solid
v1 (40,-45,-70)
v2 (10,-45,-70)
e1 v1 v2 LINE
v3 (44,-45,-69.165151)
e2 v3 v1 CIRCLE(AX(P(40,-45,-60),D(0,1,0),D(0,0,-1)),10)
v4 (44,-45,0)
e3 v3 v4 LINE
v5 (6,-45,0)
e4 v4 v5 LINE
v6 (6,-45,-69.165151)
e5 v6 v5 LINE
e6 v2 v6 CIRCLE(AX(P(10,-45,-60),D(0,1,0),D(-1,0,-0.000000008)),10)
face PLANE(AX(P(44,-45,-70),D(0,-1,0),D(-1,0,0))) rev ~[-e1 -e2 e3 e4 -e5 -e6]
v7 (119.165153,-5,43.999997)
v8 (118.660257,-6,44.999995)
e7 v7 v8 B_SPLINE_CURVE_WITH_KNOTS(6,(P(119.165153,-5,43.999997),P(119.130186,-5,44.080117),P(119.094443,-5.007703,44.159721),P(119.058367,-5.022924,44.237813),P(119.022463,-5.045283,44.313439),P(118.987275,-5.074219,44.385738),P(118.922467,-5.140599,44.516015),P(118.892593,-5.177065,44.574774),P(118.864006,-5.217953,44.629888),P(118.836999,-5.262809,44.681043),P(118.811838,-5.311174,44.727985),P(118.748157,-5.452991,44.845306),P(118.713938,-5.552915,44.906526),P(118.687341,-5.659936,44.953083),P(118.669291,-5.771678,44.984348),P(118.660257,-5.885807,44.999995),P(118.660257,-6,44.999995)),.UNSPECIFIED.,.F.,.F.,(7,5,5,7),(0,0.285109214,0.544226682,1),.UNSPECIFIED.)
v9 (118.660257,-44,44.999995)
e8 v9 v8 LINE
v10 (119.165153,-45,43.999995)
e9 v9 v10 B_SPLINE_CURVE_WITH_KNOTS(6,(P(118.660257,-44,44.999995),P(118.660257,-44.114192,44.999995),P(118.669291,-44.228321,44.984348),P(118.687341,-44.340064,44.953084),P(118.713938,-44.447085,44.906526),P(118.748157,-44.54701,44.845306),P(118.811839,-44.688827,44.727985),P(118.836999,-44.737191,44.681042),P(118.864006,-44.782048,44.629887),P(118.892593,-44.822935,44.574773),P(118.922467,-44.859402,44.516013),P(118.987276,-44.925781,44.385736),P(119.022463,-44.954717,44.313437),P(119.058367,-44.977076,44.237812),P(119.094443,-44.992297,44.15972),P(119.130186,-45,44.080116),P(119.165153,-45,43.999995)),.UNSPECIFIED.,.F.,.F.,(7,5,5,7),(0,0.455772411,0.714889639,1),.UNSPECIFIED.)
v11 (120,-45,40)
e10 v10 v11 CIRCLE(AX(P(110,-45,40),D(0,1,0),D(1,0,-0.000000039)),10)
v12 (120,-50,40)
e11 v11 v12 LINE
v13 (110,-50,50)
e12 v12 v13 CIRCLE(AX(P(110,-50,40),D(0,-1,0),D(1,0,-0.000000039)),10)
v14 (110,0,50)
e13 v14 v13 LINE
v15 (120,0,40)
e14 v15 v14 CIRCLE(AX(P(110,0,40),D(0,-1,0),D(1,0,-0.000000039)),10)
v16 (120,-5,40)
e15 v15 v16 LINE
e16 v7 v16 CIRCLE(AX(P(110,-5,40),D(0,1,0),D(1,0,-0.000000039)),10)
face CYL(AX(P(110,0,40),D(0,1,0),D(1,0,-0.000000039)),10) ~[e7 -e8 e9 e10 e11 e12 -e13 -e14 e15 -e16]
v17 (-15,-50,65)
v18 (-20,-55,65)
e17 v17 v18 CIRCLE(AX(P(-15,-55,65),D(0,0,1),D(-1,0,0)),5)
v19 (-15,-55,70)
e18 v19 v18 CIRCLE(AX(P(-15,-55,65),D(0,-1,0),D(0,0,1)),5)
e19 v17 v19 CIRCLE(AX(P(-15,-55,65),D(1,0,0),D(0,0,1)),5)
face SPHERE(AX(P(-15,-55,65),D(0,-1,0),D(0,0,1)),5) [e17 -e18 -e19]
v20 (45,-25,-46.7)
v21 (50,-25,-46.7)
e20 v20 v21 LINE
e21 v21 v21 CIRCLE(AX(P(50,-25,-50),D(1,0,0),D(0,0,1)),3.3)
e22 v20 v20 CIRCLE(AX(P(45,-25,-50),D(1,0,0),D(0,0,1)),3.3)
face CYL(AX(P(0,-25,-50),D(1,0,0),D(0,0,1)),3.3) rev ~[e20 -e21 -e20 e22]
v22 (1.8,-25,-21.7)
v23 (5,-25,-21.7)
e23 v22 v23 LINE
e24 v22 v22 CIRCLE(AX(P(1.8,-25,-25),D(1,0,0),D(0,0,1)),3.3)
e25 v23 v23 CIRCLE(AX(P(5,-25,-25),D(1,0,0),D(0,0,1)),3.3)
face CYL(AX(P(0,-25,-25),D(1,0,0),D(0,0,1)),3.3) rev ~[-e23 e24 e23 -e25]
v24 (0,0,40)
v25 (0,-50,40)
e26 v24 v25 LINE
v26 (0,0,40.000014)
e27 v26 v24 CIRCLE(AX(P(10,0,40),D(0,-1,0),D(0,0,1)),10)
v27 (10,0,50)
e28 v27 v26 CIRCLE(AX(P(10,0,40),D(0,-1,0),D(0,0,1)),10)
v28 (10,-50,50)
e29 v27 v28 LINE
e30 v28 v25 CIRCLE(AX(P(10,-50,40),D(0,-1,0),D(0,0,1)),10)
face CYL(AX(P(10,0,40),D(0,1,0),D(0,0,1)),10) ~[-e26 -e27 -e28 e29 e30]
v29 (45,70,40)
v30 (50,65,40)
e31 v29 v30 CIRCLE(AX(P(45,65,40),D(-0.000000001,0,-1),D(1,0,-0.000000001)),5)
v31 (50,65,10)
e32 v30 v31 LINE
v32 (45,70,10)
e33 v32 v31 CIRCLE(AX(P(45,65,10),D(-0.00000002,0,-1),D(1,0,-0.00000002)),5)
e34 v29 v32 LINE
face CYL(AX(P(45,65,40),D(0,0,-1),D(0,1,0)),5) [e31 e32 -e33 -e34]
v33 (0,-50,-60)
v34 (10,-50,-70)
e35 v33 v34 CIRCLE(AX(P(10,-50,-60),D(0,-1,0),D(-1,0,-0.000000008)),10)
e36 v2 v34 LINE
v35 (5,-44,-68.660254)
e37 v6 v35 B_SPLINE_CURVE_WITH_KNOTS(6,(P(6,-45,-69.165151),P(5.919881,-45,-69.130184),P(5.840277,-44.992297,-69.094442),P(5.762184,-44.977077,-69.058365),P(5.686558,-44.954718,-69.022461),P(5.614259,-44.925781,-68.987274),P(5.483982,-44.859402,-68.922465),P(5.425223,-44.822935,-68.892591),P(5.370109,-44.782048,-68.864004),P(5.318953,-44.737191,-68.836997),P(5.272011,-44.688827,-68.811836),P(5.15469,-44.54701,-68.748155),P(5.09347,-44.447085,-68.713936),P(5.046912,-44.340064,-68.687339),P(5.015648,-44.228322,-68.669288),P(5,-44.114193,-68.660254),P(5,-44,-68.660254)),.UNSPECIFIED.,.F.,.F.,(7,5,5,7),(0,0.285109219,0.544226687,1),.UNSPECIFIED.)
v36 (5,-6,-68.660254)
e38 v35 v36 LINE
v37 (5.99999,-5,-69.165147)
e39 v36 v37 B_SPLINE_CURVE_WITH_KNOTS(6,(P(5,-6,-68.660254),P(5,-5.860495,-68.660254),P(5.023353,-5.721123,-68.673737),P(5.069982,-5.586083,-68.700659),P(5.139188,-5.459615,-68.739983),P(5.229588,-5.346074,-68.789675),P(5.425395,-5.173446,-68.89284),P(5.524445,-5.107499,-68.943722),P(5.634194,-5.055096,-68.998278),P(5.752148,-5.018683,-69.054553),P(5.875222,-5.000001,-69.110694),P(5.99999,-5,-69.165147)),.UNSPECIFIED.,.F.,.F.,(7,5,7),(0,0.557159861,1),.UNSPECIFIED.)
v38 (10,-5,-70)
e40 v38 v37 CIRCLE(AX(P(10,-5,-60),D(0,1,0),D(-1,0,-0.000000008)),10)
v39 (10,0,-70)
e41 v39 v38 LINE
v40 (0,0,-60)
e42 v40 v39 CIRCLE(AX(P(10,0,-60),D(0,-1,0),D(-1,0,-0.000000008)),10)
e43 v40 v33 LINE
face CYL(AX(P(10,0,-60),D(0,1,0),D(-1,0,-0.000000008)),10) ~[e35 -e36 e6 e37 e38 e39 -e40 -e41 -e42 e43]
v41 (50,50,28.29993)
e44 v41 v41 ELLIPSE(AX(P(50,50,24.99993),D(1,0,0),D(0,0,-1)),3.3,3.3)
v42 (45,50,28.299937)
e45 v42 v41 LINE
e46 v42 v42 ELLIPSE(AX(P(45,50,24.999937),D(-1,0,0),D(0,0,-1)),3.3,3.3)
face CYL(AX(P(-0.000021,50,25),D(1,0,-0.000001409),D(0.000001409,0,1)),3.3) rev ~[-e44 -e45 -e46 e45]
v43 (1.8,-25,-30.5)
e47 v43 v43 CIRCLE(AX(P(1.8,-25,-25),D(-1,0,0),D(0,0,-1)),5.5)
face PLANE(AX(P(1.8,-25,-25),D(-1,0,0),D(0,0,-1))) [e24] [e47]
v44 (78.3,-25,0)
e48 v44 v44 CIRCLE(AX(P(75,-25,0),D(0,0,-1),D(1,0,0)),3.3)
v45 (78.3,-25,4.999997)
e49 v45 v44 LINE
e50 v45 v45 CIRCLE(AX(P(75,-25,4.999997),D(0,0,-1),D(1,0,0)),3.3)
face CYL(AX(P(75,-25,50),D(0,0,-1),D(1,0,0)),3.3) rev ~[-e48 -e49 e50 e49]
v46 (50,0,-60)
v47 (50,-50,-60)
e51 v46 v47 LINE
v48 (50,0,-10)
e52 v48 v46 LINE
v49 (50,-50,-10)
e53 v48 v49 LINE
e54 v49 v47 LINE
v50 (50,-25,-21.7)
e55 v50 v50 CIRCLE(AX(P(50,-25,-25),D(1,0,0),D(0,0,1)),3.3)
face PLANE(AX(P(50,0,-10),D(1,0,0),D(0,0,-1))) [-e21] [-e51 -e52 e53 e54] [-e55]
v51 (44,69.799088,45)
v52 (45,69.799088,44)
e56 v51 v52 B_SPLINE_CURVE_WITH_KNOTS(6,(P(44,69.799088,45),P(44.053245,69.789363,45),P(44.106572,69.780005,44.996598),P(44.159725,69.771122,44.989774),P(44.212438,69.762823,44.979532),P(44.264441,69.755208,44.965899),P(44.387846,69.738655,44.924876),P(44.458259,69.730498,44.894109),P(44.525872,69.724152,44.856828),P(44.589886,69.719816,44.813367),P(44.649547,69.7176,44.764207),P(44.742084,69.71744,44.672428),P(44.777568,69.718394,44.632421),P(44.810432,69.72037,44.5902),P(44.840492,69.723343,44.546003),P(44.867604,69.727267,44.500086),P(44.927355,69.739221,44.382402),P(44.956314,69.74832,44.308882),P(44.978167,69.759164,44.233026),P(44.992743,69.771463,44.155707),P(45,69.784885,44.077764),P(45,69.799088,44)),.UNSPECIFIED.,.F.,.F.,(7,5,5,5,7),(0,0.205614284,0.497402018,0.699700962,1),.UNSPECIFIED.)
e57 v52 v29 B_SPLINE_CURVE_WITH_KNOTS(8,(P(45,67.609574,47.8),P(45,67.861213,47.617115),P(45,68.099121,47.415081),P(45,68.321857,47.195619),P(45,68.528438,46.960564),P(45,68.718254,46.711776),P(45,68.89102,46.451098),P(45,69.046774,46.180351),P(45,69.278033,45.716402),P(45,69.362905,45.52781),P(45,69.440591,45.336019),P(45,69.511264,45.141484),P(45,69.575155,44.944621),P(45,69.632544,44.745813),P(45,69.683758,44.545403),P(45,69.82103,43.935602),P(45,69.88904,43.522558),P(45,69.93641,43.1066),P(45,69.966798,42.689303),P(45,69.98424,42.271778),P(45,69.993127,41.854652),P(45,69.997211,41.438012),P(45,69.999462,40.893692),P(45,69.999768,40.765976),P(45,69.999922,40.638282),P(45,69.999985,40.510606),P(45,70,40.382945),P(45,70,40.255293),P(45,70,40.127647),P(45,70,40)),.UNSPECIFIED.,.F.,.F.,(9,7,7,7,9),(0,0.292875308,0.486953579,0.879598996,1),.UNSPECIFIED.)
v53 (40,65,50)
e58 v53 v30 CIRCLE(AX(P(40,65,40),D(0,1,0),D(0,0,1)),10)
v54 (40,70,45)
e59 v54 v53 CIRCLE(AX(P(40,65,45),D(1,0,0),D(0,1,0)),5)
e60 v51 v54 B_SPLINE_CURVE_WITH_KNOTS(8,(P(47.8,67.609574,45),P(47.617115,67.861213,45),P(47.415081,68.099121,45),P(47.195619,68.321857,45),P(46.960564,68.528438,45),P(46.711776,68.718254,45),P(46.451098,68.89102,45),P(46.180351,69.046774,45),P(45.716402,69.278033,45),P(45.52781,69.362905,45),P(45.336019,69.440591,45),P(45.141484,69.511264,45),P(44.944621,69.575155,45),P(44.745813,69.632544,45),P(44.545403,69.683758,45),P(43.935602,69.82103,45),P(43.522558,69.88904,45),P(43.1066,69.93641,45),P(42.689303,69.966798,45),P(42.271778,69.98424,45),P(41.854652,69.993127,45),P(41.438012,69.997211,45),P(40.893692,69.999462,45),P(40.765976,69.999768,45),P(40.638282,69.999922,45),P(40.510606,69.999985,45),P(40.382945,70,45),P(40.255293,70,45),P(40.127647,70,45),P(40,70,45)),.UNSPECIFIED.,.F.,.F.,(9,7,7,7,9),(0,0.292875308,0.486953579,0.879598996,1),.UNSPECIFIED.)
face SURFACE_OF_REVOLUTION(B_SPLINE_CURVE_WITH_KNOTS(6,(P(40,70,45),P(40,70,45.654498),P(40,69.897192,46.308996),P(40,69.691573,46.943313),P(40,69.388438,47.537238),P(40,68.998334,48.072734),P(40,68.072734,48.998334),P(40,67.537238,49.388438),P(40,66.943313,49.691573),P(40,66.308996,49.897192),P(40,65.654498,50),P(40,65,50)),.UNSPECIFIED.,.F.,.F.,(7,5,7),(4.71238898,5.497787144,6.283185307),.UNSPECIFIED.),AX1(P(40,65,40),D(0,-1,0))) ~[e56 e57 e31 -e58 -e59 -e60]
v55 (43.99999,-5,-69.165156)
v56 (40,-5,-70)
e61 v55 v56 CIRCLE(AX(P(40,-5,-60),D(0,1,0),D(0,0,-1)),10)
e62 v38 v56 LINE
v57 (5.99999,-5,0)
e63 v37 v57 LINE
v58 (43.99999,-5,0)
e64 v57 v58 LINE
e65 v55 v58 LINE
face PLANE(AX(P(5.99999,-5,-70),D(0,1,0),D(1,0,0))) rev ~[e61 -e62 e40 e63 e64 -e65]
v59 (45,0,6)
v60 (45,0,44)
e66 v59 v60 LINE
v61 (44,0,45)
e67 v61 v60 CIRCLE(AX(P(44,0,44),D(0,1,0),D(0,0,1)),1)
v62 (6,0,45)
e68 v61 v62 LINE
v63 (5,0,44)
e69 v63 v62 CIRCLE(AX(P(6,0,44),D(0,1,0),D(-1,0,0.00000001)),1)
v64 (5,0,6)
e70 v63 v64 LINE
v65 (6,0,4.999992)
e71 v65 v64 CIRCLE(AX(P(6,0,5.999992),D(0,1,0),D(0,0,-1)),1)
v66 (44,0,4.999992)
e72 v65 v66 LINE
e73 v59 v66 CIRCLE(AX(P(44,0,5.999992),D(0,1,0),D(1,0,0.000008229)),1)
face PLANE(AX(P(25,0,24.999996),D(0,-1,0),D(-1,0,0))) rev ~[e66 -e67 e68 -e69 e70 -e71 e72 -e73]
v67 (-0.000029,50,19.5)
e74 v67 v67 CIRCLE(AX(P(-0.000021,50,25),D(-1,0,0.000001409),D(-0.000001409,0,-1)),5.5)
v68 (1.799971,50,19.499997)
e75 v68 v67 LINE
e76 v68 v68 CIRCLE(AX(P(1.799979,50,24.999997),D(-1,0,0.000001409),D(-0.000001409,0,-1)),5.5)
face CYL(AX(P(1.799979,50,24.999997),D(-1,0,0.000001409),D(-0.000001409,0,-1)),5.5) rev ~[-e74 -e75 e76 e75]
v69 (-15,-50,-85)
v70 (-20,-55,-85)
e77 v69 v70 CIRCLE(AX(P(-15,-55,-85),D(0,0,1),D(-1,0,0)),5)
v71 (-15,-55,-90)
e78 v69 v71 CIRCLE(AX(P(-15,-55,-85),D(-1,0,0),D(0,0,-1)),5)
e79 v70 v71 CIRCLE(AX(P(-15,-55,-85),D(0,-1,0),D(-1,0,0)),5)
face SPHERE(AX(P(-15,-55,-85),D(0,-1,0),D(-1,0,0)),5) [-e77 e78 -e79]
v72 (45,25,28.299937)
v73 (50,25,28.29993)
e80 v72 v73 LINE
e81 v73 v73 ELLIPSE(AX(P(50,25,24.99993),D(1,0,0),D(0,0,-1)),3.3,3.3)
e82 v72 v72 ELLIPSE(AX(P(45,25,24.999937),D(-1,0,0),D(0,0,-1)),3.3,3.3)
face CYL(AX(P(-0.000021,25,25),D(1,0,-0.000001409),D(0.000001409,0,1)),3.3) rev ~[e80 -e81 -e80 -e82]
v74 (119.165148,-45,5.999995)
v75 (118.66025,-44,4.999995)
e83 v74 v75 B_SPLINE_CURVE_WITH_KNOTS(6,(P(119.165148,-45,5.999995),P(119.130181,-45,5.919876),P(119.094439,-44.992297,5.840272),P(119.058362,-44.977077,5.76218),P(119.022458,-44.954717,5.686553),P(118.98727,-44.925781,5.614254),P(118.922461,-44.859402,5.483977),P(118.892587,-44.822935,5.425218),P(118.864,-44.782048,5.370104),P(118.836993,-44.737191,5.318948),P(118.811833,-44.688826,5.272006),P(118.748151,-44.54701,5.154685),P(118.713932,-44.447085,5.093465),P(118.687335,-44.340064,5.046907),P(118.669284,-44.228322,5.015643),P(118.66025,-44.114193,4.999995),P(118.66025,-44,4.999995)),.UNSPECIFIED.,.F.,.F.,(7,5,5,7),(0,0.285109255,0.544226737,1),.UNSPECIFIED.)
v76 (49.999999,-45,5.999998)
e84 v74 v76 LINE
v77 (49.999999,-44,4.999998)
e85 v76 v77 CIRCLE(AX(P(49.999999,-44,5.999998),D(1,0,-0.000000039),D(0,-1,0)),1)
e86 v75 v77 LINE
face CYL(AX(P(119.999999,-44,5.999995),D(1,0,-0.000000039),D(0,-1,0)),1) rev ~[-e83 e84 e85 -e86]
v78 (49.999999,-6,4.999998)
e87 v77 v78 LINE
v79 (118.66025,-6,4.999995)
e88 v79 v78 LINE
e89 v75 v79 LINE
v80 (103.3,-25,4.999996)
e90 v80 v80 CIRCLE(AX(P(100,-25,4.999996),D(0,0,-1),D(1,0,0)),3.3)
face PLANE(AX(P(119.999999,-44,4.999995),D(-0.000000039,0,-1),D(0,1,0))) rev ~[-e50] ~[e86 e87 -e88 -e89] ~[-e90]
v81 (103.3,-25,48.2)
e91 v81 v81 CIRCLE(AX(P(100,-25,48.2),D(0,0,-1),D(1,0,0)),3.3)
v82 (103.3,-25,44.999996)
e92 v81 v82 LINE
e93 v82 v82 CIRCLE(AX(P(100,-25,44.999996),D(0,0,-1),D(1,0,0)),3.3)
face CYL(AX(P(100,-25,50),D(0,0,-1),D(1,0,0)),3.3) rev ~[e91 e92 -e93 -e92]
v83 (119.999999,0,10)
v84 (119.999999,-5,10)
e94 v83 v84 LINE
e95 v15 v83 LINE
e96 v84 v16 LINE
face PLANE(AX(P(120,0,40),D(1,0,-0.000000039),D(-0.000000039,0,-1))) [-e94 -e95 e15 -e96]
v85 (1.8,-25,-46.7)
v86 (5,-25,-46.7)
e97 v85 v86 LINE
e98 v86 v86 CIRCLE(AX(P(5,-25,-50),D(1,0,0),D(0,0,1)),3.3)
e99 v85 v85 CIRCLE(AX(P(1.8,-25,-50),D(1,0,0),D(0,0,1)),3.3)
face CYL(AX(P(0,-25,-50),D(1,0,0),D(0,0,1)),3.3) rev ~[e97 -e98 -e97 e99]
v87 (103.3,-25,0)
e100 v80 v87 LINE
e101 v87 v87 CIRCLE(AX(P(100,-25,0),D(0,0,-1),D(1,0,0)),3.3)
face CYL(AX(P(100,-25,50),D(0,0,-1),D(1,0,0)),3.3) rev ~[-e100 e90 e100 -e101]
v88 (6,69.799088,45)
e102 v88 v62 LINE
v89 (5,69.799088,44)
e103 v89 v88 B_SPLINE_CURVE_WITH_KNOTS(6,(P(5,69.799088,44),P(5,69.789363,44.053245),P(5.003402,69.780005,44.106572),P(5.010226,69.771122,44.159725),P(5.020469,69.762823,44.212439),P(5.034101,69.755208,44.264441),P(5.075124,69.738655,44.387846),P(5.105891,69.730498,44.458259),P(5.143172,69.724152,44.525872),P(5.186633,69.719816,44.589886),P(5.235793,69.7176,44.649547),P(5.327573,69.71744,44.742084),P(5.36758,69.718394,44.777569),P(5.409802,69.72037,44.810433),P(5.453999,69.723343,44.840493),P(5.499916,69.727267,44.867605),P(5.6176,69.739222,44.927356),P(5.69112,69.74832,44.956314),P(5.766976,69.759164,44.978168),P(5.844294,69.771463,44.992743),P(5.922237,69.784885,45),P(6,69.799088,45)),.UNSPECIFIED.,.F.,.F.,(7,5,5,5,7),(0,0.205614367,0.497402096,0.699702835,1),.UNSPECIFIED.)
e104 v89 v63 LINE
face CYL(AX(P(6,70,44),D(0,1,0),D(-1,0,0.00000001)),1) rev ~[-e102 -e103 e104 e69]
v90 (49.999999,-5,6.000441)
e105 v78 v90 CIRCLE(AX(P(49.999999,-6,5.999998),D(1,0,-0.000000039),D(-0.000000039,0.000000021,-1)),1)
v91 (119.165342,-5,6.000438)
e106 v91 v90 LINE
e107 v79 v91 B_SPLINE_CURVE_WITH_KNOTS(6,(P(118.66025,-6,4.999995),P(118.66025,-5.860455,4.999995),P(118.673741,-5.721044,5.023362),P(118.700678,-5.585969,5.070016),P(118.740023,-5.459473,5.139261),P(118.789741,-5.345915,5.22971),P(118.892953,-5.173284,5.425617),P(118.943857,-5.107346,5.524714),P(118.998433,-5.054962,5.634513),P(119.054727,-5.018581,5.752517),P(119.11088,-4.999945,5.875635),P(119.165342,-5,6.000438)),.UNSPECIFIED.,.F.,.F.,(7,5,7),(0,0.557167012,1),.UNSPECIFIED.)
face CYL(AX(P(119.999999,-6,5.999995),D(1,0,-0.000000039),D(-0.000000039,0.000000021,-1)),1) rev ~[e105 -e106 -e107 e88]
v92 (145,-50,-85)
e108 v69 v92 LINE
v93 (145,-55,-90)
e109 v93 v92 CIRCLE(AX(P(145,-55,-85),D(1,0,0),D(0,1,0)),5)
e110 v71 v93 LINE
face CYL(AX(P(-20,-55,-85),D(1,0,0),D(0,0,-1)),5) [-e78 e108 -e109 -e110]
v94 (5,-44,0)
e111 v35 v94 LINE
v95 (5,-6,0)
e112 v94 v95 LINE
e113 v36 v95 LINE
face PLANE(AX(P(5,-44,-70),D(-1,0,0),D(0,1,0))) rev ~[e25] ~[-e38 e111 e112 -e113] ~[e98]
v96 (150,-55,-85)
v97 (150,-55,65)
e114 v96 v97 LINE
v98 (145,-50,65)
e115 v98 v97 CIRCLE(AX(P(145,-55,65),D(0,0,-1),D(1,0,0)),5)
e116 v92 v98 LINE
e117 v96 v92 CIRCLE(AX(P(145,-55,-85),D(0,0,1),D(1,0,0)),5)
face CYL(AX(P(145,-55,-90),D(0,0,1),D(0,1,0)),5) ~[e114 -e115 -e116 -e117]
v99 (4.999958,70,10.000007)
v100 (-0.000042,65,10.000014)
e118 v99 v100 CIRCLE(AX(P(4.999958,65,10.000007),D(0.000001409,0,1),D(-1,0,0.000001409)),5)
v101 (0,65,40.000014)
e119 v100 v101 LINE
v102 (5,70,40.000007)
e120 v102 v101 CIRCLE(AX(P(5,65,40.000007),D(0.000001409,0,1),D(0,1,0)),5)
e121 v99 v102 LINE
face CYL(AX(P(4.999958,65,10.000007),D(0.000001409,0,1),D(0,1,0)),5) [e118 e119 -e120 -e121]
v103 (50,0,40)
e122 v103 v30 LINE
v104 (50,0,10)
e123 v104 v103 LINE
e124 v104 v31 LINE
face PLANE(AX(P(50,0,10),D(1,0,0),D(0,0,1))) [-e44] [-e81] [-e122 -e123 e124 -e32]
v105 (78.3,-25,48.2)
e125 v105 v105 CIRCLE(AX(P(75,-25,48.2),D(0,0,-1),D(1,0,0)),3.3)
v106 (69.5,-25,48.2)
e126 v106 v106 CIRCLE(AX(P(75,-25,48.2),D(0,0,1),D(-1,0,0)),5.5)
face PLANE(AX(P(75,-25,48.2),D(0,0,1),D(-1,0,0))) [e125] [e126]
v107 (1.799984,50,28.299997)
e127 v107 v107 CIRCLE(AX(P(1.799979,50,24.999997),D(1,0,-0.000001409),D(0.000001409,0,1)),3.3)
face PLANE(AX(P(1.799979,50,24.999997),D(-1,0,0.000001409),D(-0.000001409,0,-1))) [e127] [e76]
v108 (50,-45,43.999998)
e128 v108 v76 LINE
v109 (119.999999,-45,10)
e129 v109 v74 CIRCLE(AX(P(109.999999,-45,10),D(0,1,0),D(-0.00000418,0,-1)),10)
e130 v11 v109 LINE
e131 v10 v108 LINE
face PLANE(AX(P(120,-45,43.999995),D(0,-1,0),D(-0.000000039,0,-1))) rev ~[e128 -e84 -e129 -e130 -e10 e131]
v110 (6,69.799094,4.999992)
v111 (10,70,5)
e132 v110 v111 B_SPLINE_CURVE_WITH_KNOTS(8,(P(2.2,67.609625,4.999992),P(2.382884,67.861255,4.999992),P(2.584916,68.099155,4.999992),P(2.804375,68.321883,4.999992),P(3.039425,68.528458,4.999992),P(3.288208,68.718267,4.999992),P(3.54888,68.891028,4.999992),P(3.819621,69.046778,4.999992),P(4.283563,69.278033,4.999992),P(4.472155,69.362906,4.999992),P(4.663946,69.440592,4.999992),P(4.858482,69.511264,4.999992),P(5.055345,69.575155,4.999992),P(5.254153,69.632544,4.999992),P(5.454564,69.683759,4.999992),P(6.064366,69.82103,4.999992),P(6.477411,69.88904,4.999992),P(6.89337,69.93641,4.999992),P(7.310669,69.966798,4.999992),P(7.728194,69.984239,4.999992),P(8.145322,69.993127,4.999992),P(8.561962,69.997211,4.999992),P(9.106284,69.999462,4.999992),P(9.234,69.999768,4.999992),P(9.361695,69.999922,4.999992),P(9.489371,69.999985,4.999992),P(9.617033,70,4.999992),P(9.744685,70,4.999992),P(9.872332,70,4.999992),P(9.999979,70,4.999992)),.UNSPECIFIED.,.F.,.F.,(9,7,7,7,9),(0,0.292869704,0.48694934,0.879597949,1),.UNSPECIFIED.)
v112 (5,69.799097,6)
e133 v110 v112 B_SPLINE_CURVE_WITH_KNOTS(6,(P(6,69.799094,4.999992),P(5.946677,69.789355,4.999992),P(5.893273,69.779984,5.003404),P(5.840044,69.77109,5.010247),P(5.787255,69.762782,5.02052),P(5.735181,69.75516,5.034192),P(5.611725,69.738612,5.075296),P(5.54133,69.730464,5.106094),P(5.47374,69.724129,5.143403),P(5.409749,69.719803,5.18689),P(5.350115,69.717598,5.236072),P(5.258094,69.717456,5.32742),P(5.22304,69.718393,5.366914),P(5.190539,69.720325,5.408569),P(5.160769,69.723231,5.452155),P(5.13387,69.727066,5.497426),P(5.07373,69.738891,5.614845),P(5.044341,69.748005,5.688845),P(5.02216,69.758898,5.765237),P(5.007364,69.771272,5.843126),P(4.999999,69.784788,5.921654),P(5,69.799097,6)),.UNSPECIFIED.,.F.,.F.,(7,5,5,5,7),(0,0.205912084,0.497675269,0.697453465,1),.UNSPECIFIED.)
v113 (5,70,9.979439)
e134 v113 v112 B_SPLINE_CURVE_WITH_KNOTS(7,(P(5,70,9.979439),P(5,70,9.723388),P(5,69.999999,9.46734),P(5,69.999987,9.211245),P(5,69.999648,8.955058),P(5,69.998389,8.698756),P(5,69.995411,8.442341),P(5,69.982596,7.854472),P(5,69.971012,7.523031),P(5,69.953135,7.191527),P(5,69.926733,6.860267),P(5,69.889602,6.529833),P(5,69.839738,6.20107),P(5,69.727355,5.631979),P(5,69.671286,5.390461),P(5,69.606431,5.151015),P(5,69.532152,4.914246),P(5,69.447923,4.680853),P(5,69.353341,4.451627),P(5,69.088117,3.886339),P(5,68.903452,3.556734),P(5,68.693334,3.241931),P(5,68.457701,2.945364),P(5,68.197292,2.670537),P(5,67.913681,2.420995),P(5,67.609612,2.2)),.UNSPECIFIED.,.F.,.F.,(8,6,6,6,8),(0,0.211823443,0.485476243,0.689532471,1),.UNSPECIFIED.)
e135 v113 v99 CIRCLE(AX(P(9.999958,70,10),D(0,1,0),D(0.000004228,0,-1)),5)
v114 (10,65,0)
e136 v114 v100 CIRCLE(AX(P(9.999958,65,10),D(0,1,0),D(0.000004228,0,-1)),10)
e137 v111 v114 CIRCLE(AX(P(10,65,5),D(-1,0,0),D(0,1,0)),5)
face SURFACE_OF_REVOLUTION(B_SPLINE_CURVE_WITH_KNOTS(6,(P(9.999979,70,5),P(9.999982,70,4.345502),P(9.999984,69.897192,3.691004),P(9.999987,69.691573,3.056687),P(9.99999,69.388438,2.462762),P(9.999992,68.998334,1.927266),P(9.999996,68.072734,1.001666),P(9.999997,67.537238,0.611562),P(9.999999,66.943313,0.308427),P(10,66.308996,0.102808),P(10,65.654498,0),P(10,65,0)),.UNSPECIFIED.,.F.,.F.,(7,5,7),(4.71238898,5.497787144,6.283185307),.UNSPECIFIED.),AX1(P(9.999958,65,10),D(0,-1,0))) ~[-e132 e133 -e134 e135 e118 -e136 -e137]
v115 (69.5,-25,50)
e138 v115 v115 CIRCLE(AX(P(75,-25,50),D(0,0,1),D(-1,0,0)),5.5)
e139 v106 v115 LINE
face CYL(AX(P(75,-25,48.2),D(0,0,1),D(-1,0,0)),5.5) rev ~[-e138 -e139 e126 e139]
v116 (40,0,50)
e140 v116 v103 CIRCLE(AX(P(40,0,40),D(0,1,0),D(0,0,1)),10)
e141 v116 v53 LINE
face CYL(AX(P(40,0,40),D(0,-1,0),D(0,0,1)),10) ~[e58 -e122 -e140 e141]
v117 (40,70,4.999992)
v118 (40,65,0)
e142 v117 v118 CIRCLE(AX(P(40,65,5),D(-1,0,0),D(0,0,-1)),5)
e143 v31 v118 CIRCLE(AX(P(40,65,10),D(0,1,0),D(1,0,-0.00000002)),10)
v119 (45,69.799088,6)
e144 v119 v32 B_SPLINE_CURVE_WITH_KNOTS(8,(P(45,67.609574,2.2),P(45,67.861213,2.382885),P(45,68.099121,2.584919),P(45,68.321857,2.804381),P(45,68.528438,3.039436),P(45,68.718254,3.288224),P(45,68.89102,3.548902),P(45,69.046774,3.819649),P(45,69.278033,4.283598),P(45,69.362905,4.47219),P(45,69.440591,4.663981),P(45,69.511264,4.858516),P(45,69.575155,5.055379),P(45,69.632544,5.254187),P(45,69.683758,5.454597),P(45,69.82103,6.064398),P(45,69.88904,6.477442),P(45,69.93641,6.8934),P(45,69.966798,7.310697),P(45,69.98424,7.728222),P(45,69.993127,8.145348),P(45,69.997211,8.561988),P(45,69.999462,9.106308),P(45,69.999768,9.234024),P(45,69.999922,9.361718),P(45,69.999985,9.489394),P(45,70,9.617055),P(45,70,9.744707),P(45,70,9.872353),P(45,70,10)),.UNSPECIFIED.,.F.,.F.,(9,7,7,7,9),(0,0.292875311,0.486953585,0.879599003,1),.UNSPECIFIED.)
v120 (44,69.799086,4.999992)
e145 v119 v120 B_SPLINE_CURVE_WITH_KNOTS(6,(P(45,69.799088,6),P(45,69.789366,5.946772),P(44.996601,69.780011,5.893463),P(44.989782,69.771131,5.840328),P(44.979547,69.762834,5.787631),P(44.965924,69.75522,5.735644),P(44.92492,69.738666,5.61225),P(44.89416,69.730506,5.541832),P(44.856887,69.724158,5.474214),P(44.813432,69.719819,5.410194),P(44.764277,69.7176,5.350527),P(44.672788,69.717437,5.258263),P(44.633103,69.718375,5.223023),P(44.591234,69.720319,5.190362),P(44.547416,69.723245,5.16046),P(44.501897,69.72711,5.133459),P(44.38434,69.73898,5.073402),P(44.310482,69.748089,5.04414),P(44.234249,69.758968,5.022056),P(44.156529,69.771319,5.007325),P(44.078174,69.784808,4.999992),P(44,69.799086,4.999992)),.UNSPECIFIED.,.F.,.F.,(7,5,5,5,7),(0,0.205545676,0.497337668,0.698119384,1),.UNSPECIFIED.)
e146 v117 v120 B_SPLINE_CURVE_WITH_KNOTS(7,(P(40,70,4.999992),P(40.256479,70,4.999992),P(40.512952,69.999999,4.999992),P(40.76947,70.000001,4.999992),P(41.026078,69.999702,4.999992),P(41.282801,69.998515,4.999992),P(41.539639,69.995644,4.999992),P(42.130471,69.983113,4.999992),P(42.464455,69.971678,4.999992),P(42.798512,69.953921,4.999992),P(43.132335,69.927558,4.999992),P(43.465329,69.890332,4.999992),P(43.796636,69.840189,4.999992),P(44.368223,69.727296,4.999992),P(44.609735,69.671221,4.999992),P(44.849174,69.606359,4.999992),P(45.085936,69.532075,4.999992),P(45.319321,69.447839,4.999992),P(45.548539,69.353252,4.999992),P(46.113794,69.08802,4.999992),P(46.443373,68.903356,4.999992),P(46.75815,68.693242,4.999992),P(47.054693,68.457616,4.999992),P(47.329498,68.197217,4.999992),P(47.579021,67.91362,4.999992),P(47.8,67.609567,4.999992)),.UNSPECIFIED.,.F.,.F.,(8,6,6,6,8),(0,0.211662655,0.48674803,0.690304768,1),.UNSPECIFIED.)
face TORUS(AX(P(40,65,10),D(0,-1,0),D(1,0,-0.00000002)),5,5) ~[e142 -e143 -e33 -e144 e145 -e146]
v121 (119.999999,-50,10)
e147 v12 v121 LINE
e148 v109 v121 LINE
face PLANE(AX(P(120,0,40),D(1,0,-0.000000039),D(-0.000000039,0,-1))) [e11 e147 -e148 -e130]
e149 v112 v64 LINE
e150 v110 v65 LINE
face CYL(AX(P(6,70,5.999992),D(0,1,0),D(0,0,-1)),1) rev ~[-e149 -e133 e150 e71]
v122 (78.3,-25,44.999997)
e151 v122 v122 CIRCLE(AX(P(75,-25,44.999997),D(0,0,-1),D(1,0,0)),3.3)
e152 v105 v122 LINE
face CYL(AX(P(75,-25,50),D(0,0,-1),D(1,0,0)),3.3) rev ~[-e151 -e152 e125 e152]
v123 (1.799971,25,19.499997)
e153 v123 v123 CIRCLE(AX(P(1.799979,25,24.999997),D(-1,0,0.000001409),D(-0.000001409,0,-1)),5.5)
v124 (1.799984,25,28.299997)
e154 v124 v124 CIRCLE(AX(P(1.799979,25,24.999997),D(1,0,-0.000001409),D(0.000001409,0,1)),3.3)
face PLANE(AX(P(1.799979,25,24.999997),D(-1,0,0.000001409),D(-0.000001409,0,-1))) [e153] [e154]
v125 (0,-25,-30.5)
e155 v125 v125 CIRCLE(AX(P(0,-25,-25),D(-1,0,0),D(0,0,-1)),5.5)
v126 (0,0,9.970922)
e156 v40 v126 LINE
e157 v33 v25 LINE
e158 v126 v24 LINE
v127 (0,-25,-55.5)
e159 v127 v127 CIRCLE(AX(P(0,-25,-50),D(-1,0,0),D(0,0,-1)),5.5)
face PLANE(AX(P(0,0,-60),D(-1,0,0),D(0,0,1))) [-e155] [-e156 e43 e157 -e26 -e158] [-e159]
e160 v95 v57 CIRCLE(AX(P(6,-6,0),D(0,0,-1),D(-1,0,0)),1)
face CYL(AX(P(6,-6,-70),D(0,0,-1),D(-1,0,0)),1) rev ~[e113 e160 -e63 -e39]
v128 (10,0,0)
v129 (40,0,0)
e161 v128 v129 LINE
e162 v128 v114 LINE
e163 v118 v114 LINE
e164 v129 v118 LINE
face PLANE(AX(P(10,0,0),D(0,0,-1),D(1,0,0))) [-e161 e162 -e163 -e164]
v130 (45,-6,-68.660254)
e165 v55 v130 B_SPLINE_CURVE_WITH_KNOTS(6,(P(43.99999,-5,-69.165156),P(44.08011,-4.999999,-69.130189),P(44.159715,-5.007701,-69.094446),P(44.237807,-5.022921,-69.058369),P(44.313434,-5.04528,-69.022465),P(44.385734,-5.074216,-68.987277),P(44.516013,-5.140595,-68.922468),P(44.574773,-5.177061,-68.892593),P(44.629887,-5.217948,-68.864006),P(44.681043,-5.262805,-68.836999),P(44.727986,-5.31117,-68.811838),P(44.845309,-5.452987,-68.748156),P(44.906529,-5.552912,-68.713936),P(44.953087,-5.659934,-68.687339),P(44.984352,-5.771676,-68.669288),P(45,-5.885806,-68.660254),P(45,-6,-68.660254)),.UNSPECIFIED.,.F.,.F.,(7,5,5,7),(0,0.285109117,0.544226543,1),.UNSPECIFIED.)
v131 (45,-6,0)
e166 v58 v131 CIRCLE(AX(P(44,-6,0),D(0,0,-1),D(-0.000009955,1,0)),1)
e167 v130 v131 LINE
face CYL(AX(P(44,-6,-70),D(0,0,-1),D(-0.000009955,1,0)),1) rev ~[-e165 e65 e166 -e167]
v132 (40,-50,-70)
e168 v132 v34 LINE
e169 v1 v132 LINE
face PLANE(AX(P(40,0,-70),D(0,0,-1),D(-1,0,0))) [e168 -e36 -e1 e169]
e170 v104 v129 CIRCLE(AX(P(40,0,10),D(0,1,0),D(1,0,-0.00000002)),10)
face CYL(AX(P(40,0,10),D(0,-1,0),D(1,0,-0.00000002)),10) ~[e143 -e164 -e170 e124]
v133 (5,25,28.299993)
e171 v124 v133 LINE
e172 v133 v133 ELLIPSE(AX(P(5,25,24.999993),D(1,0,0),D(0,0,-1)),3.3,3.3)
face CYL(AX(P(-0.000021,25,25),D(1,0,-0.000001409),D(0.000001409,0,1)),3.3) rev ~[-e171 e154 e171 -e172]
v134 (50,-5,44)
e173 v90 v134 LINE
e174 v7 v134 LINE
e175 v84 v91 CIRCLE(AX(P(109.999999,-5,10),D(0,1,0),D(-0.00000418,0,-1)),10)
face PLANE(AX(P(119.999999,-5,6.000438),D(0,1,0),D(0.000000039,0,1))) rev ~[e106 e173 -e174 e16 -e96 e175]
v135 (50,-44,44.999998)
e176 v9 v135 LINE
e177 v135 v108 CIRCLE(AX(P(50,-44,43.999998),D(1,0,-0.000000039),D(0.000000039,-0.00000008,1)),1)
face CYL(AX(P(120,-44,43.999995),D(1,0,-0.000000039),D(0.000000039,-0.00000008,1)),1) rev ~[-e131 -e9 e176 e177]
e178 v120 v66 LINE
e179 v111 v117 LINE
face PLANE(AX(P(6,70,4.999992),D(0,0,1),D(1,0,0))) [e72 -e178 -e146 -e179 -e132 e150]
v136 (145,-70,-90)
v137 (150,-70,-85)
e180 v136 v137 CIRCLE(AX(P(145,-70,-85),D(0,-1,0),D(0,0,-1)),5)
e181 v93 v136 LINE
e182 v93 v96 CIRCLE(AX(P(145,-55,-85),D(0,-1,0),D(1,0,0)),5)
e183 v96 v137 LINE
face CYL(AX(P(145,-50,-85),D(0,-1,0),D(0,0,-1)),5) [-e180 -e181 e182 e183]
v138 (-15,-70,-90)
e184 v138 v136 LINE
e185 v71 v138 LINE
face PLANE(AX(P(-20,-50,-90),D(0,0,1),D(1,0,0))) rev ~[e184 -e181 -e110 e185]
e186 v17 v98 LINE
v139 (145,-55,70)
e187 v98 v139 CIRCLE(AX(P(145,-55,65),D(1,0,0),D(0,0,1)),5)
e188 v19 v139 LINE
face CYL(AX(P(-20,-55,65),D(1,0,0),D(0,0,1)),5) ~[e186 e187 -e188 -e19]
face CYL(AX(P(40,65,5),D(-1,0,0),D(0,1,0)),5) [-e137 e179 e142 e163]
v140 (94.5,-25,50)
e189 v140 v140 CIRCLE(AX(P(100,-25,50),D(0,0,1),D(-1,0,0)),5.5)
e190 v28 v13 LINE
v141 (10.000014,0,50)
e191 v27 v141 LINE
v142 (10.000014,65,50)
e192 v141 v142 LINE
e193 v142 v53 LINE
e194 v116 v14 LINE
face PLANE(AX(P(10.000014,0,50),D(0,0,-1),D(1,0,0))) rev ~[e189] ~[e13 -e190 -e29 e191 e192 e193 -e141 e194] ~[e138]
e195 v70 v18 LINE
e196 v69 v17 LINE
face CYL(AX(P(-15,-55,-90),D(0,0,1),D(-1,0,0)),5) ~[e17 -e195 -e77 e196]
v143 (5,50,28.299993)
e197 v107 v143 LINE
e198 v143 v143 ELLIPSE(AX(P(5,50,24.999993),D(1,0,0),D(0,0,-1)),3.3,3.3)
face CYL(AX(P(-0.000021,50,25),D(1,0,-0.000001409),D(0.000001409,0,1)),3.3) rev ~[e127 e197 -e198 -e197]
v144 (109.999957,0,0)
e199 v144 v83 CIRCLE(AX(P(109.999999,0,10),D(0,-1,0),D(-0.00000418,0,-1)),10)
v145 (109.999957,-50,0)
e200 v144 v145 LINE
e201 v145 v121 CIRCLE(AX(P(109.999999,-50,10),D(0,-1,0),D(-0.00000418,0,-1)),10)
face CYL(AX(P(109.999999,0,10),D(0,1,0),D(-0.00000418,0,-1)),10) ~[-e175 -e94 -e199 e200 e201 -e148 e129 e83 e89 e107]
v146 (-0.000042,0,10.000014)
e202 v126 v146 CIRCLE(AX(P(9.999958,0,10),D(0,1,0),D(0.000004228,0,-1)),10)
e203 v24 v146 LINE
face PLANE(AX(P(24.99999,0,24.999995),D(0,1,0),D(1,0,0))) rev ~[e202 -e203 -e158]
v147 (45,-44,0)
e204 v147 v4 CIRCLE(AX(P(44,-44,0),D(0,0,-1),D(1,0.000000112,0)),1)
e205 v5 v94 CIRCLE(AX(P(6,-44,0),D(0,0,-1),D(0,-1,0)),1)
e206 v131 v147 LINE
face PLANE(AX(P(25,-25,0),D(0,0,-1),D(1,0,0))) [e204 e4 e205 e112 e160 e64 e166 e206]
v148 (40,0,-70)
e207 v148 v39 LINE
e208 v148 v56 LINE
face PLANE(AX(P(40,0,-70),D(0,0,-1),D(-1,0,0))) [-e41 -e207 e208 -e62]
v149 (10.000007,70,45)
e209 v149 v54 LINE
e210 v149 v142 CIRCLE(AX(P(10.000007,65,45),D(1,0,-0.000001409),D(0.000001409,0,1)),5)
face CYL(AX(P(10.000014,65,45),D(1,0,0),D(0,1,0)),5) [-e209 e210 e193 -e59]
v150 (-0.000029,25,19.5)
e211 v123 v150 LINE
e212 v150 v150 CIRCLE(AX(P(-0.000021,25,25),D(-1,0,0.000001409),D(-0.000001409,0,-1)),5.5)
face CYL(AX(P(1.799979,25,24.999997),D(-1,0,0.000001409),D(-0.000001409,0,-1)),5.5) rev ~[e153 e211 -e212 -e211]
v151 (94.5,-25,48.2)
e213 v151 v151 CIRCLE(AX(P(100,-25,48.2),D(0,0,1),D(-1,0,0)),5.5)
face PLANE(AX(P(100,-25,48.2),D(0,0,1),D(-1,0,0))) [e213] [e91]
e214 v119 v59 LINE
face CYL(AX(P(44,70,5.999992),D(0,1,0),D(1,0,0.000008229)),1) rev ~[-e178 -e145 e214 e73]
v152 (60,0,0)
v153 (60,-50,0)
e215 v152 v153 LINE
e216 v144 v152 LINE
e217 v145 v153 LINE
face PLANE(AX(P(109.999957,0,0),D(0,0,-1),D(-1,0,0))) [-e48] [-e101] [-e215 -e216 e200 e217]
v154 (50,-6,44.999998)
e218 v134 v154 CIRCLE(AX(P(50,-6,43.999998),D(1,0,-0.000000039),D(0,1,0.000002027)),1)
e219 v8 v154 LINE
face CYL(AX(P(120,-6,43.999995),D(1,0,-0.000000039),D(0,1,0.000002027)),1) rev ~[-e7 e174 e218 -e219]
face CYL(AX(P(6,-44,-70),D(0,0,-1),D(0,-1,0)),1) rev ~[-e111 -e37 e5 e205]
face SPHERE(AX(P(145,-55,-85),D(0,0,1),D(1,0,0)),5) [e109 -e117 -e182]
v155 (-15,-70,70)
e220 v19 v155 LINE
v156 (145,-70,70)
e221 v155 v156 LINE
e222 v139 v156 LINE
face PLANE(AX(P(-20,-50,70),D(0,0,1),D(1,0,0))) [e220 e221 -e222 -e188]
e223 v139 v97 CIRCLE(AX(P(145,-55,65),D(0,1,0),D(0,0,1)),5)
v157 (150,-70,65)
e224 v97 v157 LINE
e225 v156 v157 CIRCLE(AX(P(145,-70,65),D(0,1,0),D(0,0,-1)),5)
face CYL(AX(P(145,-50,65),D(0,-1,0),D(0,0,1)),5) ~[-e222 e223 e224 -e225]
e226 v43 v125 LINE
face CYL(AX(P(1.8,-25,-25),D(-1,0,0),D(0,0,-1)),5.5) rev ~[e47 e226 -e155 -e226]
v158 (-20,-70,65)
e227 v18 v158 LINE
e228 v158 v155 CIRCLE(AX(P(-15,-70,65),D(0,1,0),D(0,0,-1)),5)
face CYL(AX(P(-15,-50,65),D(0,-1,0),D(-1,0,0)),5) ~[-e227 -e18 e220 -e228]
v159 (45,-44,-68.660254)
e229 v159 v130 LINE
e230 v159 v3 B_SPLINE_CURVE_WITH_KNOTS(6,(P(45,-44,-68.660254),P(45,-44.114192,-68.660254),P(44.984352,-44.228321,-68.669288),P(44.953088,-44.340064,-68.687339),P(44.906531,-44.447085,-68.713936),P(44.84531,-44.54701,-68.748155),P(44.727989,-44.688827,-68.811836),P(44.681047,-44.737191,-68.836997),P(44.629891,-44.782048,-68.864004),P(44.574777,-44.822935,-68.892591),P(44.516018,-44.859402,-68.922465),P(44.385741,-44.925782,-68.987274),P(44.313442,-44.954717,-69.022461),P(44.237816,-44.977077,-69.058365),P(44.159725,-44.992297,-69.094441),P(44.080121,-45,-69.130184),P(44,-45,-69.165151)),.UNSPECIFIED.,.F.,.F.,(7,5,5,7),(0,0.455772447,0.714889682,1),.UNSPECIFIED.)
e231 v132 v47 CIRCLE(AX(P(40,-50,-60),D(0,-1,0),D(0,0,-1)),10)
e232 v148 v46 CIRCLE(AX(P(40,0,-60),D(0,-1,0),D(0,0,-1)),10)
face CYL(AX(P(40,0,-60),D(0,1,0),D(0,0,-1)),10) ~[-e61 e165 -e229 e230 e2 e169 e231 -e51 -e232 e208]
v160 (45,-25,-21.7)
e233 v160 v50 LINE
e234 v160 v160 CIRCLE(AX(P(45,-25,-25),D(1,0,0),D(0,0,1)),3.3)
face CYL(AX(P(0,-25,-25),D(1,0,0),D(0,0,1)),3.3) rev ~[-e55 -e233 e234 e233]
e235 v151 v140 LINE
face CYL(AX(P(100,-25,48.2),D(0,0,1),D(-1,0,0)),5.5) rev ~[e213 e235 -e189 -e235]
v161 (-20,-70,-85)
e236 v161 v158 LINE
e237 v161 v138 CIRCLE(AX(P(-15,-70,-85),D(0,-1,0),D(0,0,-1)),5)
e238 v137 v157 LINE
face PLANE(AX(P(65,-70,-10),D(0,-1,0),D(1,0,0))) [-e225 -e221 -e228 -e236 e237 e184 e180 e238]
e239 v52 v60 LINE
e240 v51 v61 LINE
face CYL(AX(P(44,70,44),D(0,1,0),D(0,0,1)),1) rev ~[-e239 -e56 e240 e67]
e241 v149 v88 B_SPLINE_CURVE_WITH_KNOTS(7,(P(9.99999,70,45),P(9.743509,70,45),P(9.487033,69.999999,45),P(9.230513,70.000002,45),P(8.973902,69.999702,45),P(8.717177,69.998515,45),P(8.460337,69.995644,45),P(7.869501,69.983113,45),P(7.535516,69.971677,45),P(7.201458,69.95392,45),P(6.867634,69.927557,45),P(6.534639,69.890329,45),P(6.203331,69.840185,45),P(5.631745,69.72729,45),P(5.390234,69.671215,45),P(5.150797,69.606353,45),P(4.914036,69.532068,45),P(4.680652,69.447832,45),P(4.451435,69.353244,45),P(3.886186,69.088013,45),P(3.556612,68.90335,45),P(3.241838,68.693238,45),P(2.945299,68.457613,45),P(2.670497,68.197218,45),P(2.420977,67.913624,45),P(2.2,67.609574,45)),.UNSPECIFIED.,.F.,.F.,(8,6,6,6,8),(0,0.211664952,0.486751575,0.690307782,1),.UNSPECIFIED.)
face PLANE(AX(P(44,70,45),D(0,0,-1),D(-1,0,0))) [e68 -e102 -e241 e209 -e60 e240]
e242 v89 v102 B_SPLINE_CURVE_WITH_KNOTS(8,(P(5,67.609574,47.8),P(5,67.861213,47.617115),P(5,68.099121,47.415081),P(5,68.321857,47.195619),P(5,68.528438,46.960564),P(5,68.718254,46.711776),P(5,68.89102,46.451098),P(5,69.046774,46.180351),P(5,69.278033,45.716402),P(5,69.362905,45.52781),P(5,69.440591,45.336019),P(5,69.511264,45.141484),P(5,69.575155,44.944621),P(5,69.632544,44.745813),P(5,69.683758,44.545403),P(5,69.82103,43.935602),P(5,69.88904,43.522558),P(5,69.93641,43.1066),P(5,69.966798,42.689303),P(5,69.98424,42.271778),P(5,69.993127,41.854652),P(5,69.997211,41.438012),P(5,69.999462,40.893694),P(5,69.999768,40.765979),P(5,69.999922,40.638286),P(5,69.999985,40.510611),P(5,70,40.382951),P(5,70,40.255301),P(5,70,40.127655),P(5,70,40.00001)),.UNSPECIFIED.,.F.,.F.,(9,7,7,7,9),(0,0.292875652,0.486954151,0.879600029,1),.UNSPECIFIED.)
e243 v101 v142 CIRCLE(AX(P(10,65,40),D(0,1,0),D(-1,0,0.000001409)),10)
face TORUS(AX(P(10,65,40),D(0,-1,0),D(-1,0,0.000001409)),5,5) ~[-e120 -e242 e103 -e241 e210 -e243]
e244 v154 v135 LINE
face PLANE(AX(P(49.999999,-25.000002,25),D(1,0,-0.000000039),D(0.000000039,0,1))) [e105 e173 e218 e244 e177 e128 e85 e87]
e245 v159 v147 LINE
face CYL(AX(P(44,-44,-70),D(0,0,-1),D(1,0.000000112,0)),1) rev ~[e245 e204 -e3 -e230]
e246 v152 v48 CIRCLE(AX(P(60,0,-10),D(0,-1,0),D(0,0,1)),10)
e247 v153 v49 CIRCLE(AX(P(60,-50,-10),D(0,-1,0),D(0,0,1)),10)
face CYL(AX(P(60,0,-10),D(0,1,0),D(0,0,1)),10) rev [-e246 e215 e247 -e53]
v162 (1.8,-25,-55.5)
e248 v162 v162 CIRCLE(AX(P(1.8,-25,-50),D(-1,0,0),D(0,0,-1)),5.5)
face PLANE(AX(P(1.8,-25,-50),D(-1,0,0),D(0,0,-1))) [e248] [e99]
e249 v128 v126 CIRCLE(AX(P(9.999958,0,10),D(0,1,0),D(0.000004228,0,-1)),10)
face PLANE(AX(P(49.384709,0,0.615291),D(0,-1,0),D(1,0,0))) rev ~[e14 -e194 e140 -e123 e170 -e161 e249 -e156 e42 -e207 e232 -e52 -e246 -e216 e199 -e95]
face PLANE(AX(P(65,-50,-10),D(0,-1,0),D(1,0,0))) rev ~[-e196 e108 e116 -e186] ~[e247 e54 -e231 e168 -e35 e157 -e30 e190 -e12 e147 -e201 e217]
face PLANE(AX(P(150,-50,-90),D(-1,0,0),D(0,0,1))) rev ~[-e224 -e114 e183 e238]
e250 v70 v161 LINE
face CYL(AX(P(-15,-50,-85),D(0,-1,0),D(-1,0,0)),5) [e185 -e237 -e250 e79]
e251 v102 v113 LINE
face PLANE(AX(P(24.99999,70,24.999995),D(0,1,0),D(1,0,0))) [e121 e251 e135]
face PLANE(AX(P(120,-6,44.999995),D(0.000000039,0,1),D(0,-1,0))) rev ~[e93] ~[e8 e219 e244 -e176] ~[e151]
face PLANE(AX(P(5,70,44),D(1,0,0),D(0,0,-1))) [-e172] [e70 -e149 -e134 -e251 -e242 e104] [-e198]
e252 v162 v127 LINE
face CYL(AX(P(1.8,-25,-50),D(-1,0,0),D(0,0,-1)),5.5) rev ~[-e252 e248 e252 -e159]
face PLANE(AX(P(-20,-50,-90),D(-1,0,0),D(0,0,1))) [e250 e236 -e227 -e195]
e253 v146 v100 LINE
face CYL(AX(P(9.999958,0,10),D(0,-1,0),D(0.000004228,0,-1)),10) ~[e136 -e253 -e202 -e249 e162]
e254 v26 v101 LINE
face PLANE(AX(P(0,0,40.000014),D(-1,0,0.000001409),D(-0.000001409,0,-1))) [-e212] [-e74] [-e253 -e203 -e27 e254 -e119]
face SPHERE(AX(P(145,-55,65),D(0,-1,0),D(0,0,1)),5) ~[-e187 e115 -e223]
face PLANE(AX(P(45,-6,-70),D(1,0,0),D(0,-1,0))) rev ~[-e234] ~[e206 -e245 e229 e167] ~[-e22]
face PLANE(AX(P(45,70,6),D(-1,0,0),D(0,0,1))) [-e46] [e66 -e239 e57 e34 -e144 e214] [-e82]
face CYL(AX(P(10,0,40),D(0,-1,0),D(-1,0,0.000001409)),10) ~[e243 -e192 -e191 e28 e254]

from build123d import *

# Parameters (mm, degrees)
PAD_DEPTH           = 50
SKETCH001_W         = 170
SKETCH001_H         = 160
PAD001_DEPTH        = 20
FILLET_R            = 5
PAD002_DEPTH        = 70
FILLET001_R         = 5
POCKET_DEPTH        = 70
POCKET001_DEPTH     = 70
POCKET002_DEPTH     = 70
HOLE_D              = 6.6
HOLE_CBORE_D        = 11
HOLE_CBORE_DEPTH    = 1.8
HOLE001_D           = 6.6
HOLE001_CBORE_D     = 11
HOLE001_CBORE_DEPTH = 1.8
HOLE002_D           = 6.6
HOLE002_CBORE_D     = 11
HOLE002_CBORE_DEPTH = 1.8


with BuildPart() as part:
    # Sketch → Pad (new body)
    with BuildSketch(Plane.XZ):
        with BuildLine():
            Line((0, 0), (0, 40))
            ThreePointArc((10, 50), (2.9289321881, 47.0710678119), (0, 40))
            Line((10, 50), (110, 50))
            ThreePointArc((120, 39.9999996097), (117.0710679499, 47.0710676739), (110, 50))
            Line((120, 39.9999996097), (119.9999988291, 9.9999996097))
            ThreePointArc((109.999957026, 1e-10), (117.0710517233, 2.9289172705), (119.9999988291, 9.9999996097))
            Line((109.999957026, 1e-10), (60, 0))
            ThreePointArc((60, 0), (52.9289320942, -2.9289322821), (50, -10.0000002657))
            Line((50, -10.0000002657), (50, -59.9999999242))
            ThreePointArc((40, -69.9999999242), (47.0710678119, -67.0710677361), (50, -59.9999999242))
            Line((40, -69.9999999242), (10, -69.9999999242))
            ThreePointArc((0, -60), (2.9289322149, -67.0710677629), (10, -69.9999999242))
            Line((0, -60), (0, 0))
        make_face()
    extrude(amount=PAD_DEPTH)

    # Sketch001 → Pad001 (join)
    with BuildSketch(Plane.XZ.offset(50)):
        with Locations((65, -10)):
            Rectangle(SKETCH001_W, SKETCH001_H)
    extrude(amount=PAD001_DEPTH)

    # Fillet
    fillet_edges = [part.edges().sort_by_distance(p)[0] for p in [
        (-20, -60, 70),
        (-20, -60, -90),
        (150, -60, 70),
        (65, -50, 70),
        (-20, -50, -10),
        (150, -50, -10),
        (150, -60, -90),
        (65, -50, -90),
    ]]
    fillet(fillet_edges, radius=FILLET_R)

    # Sketch002 → Pad002 (join)
    with BuildSketch(Plane(origin=(0, 0, 0), x_dir=(1, 0, 0), z_dir=(0, 1, 0))):
        with BuildLine():
            ThreePointArc((0, -40.0000140922), (2.9289421532, -47.0710777769), (10.0000140931, -50))
            Line((10.0000140931, -50), (40, -50))
            ThreePointArc((40, -50), (47.0710678169, -47.0710678069), (50, -39.9999999859))
            Line((50, -9.9999998015), (50, -39.9999999859))
            ThreePointArc((50, -9.9999998015), (47.0710677417, -2.928932118), (40, 0))
            Line((10, -1e-10), (40, 0))
            ThreePointArc((10, -1e-10), (2.9288998762, -2.9289222234), (-4.22766e-05, -10.0000140922))
            Line((0, -40.0000140922), (-4.22766e-05, -10.0000140922))
        make_face()
    extrude(amount=PAD002_DEPTH)

    # Fillet001
    fillet001_edges = [part.edges().sort_by_distance(p)[0] for p in [
        (47.071068, 70, 2.928932),
    ]]
    fillet(fillet001_edges, radius=FILLET001_R)

    # Sketch003 → Pocket (cut)
    with BuildSketch(Plane(origin=(119.9999984388, 0, -4.6837e-06), x_dir=(3.9e-08, 0, 1), z_dir=(1, 0, -3.9e-08))):
        with BuildLine():
            Line((6.0004431316, 5), (44.0000020269, 5))
            ThreePointArc((44.0000020269, 5), (44.7071074978, 5.2928939354), (45, 6))
            Line((45, 6), (45, 44))
            ThreePointArc((45, 44), (44.7071067529, 44.7071067294), (44, 44.9999999199))
            Line((44, 44.9999999199), (6, 44.9999999199))
            ThreePointArc((6, 44.9999999199), (5.292893205, 44.7071066873), (5, 43.999999881))
            Line((5, 43.999999881), (5, 5.999999881))
            ThreePointArc((5, 5.999999881), (5.2930499143, 5.2927364599), (6.0004431316, 5))
        make_face()
    extrude(amount=-POCKET_DEPTH, mode=Mode.SUBTRACT)

    # Sketch004 → Pocket001 (cut)
    with BuildSketch(Plane(origin=(0, 0, -69.9999999242), x_dir=(1, 0, 0), z_dir=(0, 0, -1))):
        with BuildLine():
            Line((5.9999900445, 5), (43.9999900445, 5))
            ThreePointArc((43.9999900445, 5), (44.7071032614, 5.292889699), (45, 6))
            Line((45, 6), (45, 43.9999998885))
            ThreePointArc((45, 43.9999998885), (44.7071068206, 44.7071067418), (44, 45))
            Line((44, 45), (6, 45))
            ThreePointArc((6, 45), (5.2928932188, 44.7071067812), (5, 44))
            Line((5, 44), (5, 6))
            ThreePointArc((5, 6), (5.292889699, 5.2928967386), (5.9999900445, 5))
        make_face()
    extrude(amount=-POCKET001_DEPTH, mode=Mode.SUBTRACT)

    # Sketch005 → Pocket002 (cut)
    with BuildSketch(Plane(origin=(0, 70, 0), x_dir=(1, 0, 0), z_dir=(0, 1, 0))):
        with BuildLine():
            Line((6, -4.9999917709), (44, -4.9999917709))
            ThreePointArc((45, -6), (44.7071096906, -5.2928878992), (44, -4.9999917709))
            Line((45, -6), (45, -44))
            ThreePointArc((44, -45), (44.7071067812, -44.7071067812), (45, -44))
            Line((44, -45), (6, -45))
            ThreePointArc((5, -44), (5.2928932224, -44.7071067747), (6, -44.9999999899))
            Line((5, -44), (5, -6))
            ThreePointArc((6, -4.9999917709), (5.2928903094, -5.2928878992), (5, -6))
        make_face()
    extrude(amount=-POCKET002_DEPTH, mode=Mode.SUBTRACT)

    # Hole (through all)
    with Locations(Plane(origin=(0, 0, 50), x_dir=(-1, 0, 0), z_dir=(0, 0, 1))):
        with Locations((-75, 25), (-100, 25)):
            CounterBoreHole(HOLE_D / 2, HOLE_CBORE_D / 2, HOLE_CBORE_DEPTH)

    # Hole001 (through all)
    with Locations(Plane(origin=(0, 0, 0), x_dir=(0, 0, -1), z_dir=(-1, 0, 0))):
        with Locations((50, 25), (25, 25)):
            CounterBoreHole(HOLE001_D / 2, HOLE001_CBORE_D / 2, HOLE001_CBORE_DEPTH)

    # Hole002 (through all)
    with Locations(Plane(origin=(-5.63689e-05, 0, 1e-10), x_dir=(-1.4092e-06, 0, -1), z_dir=(-1, 0, 1.4092e-06))):
        with Locations((-25, -25), (-25, -50)):
            CounterBoreHole(HOLE002_D / 2, HOLE002_CBORE_D / 2, HOLE002_CBORE_DEPTH)


solid = part.part
